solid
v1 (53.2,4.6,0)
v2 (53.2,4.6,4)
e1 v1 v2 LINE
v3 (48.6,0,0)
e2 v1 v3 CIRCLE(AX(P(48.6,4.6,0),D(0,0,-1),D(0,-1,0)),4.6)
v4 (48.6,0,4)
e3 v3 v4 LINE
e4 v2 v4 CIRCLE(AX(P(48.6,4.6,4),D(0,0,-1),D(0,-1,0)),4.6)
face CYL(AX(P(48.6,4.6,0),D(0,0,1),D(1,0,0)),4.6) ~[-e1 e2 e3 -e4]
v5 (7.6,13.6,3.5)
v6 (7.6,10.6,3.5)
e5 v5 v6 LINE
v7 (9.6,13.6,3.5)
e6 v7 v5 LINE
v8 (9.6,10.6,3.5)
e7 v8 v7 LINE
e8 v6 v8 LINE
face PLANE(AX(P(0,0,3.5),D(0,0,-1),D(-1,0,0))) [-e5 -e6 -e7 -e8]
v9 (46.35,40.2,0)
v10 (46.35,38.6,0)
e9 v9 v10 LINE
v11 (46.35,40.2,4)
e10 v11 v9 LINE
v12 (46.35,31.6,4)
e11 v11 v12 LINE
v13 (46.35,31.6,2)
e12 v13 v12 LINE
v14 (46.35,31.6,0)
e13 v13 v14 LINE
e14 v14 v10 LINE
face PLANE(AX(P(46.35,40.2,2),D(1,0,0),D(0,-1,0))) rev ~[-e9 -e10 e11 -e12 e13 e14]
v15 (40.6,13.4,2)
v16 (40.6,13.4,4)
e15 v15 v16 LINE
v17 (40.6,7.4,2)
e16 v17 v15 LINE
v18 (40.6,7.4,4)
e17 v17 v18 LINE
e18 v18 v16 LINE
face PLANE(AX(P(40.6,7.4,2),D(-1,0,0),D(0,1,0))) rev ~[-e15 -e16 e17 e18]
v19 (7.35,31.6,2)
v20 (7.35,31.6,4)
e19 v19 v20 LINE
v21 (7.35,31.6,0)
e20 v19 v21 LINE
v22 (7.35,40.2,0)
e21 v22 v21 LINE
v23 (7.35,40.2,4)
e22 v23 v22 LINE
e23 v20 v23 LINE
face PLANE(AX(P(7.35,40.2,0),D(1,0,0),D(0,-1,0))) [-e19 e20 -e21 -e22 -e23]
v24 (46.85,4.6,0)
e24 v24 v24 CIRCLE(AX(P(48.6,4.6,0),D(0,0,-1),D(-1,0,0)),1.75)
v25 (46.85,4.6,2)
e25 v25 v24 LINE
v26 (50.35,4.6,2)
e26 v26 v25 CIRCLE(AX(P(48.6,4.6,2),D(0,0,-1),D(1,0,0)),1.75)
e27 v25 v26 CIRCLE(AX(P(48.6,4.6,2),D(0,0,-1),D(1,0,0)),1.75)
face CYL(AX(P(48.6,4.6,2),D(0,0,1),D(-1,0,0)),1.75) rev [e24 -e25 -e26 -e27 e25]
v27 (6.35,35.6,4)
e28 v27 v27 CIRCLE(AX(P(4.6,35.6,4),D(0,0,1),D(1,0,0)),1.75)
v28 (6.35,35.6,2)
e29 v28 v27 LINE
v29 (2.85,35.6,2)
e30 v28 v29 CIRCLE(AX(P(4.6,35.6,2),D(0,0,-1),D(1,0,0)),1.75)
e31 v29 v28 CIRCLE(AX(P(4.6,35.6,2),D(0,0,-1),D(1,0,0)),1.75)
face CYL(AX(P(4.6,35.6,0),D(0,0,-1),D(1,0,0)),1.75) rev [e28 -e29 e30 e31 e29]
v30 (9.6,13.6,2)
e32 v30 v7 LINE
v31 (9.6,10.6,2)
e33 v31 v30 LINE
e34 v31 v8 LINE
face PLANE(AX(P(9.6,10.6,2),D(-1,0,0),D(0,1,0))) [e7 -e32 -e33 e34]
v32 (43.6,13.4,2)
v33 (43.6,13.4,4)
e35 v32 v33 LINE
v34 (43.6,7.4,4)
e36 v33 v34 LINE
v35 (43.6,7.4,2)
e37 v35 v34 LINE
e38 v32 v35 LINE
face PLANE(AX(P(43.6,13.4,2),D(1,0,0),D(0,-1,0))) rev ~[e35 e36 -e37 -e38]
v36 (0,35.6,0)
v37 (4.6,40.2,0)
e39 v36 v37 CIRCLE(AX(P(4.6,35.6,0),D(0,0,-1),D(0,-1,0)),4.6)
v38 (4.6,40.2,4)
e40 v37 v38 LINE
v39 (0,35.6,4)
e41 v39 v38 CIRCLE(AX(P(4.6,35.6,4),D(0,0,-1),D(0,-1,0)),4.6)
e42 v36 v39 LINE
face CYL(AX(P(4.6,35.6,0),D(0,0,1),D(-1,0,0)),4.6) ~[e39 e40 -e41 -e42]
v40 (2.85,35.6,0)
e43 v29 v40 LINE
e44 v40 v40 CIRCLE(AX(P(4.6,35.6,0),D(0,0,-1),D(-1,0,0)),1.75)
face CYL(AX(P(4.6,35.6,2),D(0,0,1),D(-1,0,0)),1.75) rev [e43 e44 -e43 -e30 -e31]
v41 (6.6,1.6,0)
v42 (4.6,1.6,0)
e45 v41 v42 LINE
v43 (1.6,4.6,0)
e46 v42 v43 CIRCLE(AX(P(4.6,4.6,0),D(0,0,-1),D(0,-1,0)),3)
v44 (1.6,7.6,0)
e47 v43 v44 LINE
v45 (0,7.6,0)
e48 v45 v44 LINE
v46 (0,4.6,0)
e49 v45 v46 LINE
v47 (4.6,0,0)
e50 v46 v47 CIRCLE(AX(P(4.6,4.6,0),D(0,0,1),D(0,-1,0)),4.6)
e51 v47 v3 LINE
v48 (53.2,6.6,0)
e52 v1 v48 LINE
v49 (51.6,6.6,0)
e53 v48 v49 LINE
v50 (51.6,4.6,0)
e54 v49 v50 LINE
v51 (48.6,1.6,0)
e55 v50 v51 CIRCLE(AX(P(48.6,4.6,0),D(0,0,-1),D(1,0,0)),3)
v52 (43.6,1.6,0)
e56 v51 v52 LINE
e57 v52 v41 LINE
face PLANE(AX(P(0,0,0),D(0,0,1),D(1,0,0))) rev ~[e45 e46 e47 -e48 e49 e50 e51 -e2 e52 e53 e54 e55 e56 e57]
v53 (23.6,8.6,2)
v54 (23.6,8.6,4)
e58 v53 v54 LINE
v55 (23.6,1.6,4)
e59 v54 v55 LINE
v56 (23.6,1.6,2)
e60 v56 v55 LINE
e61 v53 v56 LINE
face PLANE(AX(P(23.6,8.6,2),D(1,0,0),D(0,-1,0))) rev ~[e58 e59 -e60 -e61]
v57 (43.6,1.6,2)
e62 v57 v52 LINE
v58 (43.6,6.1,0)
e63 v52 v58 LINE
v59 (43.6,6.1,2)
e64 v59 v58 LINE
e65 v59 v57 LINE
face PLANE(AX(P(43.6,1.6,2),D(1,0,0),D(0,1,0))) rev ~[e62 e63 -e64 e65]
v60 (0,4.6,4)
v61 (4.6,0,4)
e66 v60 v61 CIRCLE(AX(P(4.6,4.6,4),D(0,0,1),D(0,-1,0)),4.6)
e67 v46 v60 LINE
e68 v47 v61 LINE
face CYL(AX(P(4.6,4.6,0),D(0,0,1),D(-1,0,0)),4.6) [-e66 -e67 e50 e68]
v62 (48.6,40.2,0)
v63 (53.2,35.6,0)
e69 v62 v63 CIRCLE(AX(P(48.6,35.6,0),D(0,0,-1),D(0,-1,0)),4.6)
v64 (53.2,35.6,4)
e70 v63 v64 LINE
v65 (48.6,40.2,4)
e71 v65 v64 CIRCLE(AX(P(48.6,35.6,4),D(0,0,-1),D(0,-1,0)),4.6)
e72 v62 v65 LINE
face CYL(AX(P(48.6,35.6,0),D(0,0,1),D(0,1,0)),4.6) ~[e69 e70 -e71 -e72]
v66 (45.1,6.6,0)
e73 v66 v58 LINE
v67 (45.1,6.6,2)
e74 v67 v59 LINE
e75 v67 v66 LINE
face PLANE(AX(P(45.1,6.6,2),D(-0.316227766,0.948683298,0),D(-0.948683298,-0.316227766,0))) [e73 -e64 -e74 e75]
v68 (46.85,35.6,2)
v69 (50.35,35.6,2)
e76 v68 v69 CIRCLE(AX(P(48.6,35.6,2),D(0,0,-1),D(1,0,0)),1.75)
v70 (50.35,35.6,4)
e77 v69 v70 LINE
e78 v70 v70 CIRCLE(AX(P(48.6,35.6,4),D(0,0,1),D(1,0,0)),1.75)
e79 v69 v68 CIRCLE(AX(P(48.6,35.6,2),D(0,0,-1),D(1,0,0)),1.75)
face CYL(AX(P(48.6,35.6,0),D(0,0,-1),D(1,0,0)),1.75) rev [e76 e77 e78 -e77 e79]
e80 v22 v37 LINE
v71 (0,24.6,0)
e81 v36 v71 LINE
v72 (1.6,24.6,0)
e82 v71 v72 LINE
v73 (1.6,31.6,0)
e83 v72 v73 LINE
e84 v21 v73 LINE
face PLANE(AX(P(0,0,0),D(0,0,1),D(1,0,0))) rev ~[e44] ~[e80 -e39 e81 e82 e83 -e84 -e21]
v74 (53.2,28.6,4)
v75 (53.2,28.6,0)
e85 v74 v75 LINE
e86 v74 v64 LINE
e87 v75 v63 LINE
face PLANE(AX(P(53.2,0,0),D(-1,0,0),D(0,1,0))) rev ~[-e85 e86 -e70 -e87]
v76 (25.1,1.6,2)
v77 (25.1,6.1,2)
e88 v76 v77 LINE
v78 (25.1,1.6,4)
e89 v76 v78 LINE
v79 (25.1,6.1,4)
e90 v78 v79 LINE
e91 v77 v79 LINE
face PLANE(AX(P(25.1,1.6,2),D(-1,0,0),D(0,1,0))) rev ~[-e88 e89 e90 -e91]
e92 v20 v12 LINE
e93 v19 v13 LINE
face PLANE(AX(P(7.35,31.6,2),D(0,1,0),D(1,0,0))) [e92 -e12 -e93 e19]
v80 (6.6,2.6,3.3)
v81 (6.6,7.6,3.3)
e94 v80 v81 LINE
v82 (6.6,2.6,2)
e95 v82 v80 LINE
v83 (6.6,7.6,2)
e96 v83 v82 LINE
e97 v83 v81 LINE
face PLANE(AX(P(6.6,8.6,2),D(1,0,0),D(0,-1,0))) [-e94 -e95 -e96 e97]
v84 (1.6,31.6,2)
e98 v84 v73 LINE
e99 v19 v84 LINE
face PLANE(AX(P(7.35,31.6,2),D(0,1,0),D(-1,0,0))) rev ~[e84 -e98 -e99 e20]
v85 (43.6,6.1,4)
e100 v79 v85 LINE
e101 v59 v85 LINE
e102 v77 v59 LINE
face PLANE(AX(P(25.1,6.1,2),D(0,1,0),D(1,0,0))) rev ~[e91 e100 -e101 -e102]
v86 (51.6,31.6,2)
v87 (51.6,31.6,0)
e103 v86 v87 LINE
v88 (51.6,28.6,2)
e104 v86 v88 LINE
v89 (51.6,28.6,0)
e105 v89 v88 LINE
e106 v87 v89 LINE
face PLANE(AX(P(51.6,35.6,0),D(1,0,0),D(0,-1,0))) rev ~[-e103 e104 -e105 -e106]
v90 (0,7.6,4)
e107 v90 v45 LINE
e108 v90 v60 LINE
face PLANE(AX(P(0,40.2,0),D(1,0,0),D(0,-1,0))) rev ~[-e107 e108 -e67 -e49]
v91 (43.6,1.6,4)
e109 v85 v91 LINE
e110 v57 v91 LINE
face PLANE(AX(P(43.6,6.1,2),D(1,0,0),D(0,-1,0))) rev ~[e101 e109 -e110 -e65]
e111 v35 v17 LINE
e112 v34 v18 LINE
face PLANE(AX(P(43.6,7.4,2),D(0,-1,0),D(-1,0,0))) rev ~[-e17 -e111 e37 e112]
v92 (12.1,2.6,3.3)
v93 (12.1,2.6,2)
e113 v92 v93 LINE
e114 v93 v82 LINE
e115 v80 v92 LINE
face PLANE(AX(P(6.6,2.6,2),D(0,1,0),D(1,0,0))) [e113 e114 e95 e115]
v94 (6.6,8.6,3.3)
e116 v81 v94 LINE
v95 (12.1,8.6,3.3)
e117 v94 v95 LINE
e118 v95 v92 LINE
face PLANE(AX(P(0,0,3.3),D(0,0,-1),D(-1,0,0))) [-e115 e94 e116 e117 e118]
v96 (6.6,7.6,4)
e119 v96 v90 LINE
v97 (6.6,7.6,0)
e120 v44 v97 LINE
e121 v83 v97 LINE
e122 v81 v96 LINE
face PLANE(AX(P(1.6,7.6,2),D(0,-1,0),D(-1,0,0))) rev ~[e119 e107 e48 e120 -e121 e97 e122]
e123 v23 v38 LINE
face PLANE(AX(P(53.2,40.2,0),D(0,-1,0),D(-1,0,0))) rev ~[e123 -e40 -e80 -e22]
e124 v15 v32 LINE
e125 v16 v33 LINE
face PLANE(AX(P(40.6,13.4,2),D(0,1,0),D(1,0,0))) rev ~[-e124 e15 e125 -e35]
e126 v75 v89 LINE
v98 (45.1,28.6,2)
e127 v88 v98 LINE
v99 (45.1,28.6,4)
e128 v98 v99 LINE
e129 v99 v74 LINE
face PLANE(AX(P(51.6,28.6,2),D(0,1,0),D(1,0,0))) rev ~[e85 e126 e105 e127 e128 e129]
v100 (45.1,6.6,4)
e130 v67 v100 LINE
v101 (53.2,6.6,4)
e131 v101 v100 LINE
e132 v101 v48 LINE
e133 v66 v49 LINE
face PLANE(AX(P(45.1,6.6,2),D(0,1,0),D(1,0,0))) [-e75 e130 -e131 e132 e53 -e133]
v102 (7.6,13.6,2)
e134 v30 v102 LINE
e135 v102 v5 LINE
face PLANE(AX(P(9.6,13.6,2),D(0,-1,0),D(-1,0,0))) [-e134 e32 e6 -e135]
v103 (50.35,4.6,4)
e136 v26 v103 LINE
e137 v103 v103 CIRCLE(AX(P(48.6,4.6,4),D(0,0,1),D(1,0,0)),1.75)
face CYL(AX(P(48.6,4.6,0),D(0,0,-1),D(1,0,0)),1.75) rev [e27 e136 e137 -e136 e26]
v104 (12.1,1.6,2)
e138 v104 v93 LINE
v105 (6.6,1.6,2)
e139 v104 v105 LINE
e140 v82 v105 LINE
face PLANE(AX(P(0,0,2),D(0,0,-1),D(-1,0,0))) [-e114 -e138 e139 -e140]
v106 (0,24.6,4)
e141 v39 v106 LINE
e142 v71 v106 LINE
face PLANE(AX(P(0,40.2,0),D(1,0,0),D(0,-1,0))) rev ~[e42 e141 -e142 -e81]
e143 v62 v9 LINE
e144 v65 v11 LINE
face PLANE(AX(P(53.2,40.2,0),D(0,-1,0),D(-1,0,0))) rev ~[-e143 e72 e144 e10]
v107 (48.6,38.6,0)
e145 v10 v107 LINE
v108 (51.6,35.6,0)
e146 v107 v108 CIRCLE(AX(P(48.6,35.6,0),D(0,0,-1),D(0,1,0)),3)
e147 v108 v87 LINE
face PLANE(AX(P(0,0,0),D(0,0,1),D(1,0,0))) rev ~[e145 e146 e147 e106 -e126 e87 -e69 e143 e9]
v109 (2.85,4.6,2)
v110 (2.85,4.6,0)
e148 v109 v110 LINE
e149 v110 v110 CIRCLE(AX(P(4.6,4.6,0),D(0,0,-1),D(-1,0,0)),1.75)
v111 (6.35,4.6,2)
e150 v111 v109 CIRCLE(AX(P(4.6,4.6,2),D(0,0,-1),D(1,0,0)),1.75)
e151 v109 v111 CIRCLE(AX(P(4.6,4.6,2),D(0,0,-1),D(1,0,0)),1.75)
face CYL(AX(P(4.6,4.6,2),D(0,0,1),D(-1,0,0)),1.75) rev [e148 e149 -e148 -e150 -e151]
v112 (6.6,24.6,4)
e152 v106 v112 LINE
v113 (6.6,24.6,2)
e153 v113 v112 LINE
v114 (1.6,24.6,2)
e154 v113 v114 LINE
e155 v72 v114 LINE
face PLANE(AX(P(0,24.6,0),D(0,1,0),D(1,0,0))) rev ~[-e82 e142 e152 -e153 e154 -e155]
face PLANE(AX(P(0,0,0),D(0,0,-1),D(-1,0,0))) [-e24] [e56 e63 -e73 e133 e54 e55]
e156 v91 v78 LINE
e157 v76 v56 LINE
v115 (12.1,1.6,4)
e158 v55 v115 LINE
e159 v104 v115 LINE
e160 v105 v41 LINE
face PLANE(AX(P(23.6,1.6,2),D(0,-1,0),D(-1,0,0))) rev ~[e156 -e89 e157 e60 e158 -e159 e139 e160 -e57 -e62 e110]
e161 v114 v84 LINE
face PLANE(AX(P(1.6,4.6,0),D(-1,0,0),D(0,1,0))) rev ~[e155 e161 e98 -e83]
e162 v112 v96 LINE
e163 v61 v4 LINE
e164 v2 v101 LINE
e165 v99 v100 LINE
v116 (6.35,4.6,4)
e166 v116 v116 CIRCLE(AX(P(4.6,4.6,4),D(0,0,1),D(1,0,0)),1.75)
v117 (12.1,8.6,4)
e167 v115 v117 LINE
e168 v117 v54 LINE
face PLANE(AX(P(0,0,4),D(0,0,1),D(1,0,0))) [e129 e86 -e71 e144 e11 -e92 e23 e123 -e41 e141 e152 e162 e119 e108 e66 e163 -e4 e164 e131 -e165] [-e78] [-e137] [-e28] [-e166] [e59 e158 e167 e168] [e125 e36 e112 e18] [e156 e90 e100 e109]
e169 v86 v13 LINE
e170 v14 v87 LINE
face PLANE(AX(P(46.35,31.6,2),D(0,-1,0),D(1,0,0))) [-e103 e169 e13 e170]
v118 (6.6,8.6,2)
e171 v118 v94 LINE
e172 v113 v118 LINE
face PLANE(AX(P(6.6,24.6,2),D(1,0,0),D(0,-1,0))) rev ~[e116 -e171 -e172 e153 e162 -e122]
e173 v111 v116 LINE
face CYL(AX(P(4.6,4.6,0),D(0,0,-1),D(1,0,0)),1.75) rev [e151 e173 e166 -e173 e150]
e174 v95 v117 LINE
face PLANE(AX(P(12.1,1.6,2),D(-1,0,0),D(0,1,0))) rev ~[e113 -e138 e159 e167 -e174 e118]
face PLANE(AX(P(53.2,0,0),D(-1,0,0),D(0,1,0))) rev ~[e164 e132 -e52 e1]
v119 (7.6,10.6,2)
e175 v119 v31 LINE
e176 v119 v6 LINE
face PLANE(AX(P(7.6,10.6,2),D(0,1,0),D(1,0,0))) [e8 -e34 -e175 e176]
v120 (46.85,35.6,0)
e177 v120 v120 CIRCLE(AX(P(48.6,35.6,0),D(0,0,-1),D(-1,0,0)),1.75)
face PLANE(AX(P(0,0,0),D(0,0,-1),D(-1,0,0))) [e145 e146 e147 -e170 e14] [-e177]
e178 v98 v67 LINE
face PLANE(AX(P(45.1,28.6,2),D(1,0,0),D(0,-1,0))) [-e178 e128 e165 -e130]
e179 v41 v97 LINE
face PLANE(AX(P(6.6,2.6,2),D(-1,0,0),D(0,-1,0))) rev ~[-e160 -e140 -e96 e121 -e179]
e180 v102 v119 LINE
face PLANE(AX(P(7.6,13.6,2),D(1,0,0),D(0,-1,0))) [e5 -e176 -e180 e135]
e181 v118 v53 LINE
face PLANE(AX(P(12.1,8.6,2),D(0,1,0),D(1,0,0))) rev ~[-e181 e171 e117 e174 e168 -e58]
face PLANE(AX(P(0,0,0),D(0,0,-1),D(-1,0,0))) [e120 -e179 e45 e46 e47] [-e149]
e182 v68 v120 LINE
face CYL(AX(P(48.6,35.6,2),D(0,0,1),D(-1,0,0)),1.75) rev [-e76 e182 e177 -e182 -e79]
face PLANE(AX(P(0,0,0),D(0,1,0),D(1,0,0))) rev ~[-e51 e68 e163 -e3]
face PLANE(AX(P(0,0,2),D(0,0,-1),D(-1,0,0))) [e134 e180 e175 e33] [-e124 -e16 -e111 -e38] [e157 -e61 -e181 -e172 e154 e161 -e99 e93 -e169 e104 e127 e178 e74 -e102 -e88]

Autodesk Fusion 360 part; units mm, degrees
sketch "Sketch1" plane through (0, 0, 0) normal (0, 0, 1) x (1, 0, 0)
  line L0 (0, 0) -> (53.2, 0)
  line L1 (53.2, 0) -> (53.2, 40.2)
  line L2 (53.2, 40.2) -> (0, 40.2)
  line L3 (0, 40.2) -> (0, 0)
  circle A0 centre (4.6, 4.6) radius 1.75
  circle A1 centre (4.6, 35.6) radius 1.75
  circle A2 centre (48.6, 35.6) radius 1.75
  circle A3 centre (48.6, 4.6) radius 1.75
  dimension "d1" = 53.2
  dimension "d2" = 40.2
  dimension "d3" = 4.6
  dimension "d4" = 4.6
  dimension "d5" = 4.6
  dimension "d6" = 4.6
  dimension "d7" = 4.6
  dimension "d8" = 4.6
  dimension "d9" = 4.6
  dimension "d10" = 4.6
  dimension "d11" = 3.5
  dimension "d12" = 3.5
  dimension "d13" = 3.5
  dimension "d14" = 3.5
extrude "Extrude1" add sketch "Sketch1" along normal blind 4
fillet "Fillet1" radius 4.6 4 edges at (0, 40.2, 2) (0, 0, 2) (53.2, 0, 2) (53.2, 40.2, 2)
sketch "Sketch2" plane through (0, 0, 0) normal (0, 0, -1) x (-1, 0, 0)
  arc A0 (-48.6, 40.2) -> (-53.2, 35.6) centre (-48.6, 35.6) ccw
  line L0 (-53.2, 35.6) -> (-53.2, 4.6)
  arc A1 (-53.2, 4.6) -> (-48.6, 0) centre (-48.6, 4.6) ccw
  line L1 (-48.6, 0) -> (-4.6, 0)
  arc A2 (-4.6, 0) -> (0, 4.6) centre (-4.6, 4.6) ccw
  line L2 (0, 4.6) -> (0, 35.6)
  arc A3 (0, 35.6) -> (-4.6, 40.2) centre (-4.6, 35.6) ccw
  line L3 (-4.6, 40.2) -> (-48.6, 40.2)
  circle A4 centre (-48.6, 4.6) radius 1.75
  circle A5 centre (-48.6, 35.6) radius 1.75
  circle A6 centre (-4.6, 4.6) radius 1.75
  circle A7 centre (-4.6, 35.6) radius 1.75
  line L4 (-51.6, 35.6) -> (-51.6, 4.6)
  arc A8 (-51.6, 4.6) -> (-48.6, 1.6) centre (-48.6, 4.6) ccw
  line L5 (-48.6, 1.6) -> (-4.6, 1.6)
  arc A9 (-4.6, 1.6) -> (-1.6, 4.6) centre (-4.6, 4.6) ccw
  line L6 (-1.6, 4.6) -> (-1.6, 35.6)
  arc A10 (-1.6, 35.6) -> (-4.6, 38.6) centre (-4.6, 35.6) ccw
  line L7 (-4.6, 38.6) -> (-48.6, 38.6)
  arc A11 (-48.6, 38.6) -> (-51.6, 35.6) centre (-48.6, 35.6) ccw
  dimension "d18" = 1.6
extrude "Extrude2" cut sketch "Sketch2" against normal blind 2 contours L4 A8 L5 A9 L6 A10 L7 A11
sketch "Sketch3" plane through (0, 0, 0) normal (0, 0, -1) x (-1, 0, 0)
  line L0 (-51.6, 4.6) -> (-51.6, 35.6)
  arc A0 (-48.6, 38.6) -> (-51.6, 35.6) centre (-48.6, 35.6) ccw
  line L1 (-48.6, 38.6) -> (-4.6, 38.6)
  arc A1 (-1.6, 35.6) -> (-4.6, 38.6) centre (-4.6, 35.6) ccw
  line L2 (-1.6, 35.6) -> (-1.6, 4.6)
  arc A2 (-4.6, 1.6) -> (-1.6, 4.6) centre (-4.6, 4.6) ccw
  line L3 (-4.6, 1.6) -> (-48.6, 1.6)
  arc A3 (-51.6, 4.6) -> (-48.6, 1.6) centre (-48.6, 4.6) ccw
  arc A4 (-48.6, 40.2) -> (-53.2, 35.6) centre (-48.6, 35.6) ccw
  line L4 (-53.2, 35.6) -> (-53.2, 4.6)
  arc A5 (-53.2, 4.6) -> (-48.6, 0) centre (-48.6, 4.6) ccw
  line L5 (-48.6, 0) -> (-4.6, 0)
  arc A6 (-4.6, 0) -> (0, 4.6) centre (-4.6, 4.6) ccw
  line L6 (0, 4.6) -> (0, 35.6)
  arc A7 (0, 35.6) -> (-4.6, 40.2) centre (-4.6, 35.6) ccw
  line L7 (-4.6, 40.2) -> (-48.6, 40.2)
  line L8 (0, 24.6) -> (-1.6, 24.6)
  line L9 (0, 7.6) -> (-1.6, 7.6)
  line L10 (-53.2, 28.6) -> (-51.6, 28.6)
  line L11 (-53.2, 6.6) -> (-51.6, 6.6)
  line L12 (-46.35, 40.2) -> (-46.35, 38.6)
  line L13 (-7.35, 40.2) -> (-7.35, 38.6)
  dimension "d21" = 17
  dimension "d22" = 11
  dimension "d25" = 5
  dimension "d26" = 10
  dimension "d27" = 5.75
  dimension "d73" = 39
extrude "Extrude3" cut sketch "Sketch3" against normal blind 2 contours L0 L4 L10 L11 | L2 L6 L8 L9 | L1 L7 L12 L13
sketch "Sketch4" plane through (0, 0, 2) normal (0, 0, -1) x (-1, 0, 0)
  circle A0 centre (-48.6, 4.6) radius 1.75
  circle A1 centre (-4.6, 35.6) radius 1.75
  circle A2 centre (-4.6, 4.6) radius 1.75
  circle A3 centre (-48.6, 35.6) radius 1.75
  line L0 (-53.2, 28.6) -> (-53.2, 6.6)
  line L1 (0, 7.6) -> (0, 24.6)
  line L2 (-7.35, 40.2) -> (-46.35, 40.2)
  arc A4 (-48.6, 38.6) -> (-51.6, 35.6) centre (-48.6, 35.6) ccw
  line L3 (-51.6, 35.6) -> (-51.6, 28.6)
  line L4 (-51.6, 28.6) -> (-53.2, 28.6)
  line L5 (-53.2, 6.6) -> (-51.6, 6.6)
  line L6 (-51.6, 6.6) -> (-51.6, 4.6)
  arc A5 (-51.6, 4.6) -> (-48.6, 1.6) centre (-48.6, 4.6) ccw
  line L7 (-48.6, 1.6) -> (-4.6, 1.6)
  arc A6 (-4.6, 1.6) -> (-1.6, 4.6) centre (-4.6, 4.6) ccw
  line L8 (-1.6, 4.6) -> (-1.6, 7.6)
  line L9 (-1.6, 7.6) -> (0, 7.6)
  line L10 (0, 24.6) -> (-1.6, 24.6)
  line L11 (-1.6, 24.6) -> (-1.6, 35.6)
  arc A7 (-1.6, 35.6) -> (-4.6, 38.6) centre (-4.6, 35.6) ccw
  line L12 (-4.6, 38.6) -> (-7.35, 38.6)
  line L13 (-7.35, 38.6) -> (-7.35, 40.2)
  line L14 (-46.35, 40.2) -> (-46.35, 38.6)
  line L15 (-46.35, 38.6) -> (-48.6, 38.6)
  line L16 (-51.6, 28.6) -> (-45.1, 28.6)
  line L17 (-45.1, 28.6) -> (-45.1, 6.6)
  line L18 (-45.1, 6.6) -> (-51.6, 6.6)
  line L19 (-7.35, 38.6) -> (-7.35, 31.6)
  line L20 (-7.35, 31.6) -> (-46.35, 31.6)
  line L21 (-46.35, 31.6) -> (-46.35, 38.6)
  line L22 (-1.6, 24.6) -> (-6.6, 24.6)
  line L23 (-6.6, 24.6) -> (-6.6, 7.6)
  line L24 (-6.6, 7.6) -> (-1.6, 7.6)
  line L25 (-12.1, 1.6) -> (-12.1, 8.6)
  line L26 (-12.1, 8.6) -> (-23.6, 8.6)
  line L27 (-23.6, 8.6) -> (-23.6, 1.6)
  line L28 (-25.1, 1.6) -> (-25.1, 6.1)
  line L29 (-25.1, 6.1) -> (-43.6, 6.1)
  line L30 (-43.6, 6.1) -> (-43.6, 1.6)
  dimension "d74" = 6.5
  dimension "d75" = 7
  dimension "d76" = 5
  dimension "d77" = 10.5
  dimension "d78" = 11.5
  dimension "d79" = 7
  dimension "d80" = 4.5
  dimension "d81" = 23.5
  dimension "d82" = 18.5
extrude "Extrude4" cut sketch "Sketch4" against normal blind 2 contours L0 L4 L5 L16 L17 L18 | L2 L13 L14 L19 L20 L21 | L7 L28 L29 L30 | L7 L25 L26 L27 | L1 L9 L10 L22 L23 L24
sketch "Sketch5" plane through (0, 0, 2) normal (0, 0, -1) x (-1, 0, 0)
  line L0 (-51.6, 35.6) -> (-51.6, 28.6)
  line L1 (-48.6, 1.6) -> (-43.6, 1.6)
  line L2 (-1.6, 7.6) -> (-6.6, 7.6)
  line L3 (-6.6, 24.6) -> (-1.6, 24.6)
  line L4 (-7.35, 38.6) -> (-7.35, 31.6)
  line L5 (-4.6, 38.6) -> (-7.35, 38.6)
  line L6 (-46.35, 31.6) -> (-46.35, 38.6)
  line L7 (-51.6, 28.6) -> (-45.1, 28.6)
  line L8 (-45.1, 6.6) -> (-51.6, 6.6)
  circle A0 centre (-48.6, 35.6) radius 1.75
  circle A1 centre (-4.6, 4.6) radius 1.75
  circle A2 centre (-4.6, 35.6) radius 1.75
  circle A3 centre (-48.6, 4.6) radius 1.75
  line L9 (-12.6, 8.6) -> (-6.6, 8.6)
  line L10 (-6.6, 8.6) -> (-6.6, 2.6)
  line L11 (-6.6, 2.6) -> (-12.6, 2.6)
  line L12 (-12.6, 2.6) -> (-12.6, 8.6)
  arc A4 (-4.6, 1.6) -> (-1.6, 4.6) centre (-4.6, 4.6) ccw
  line L13 (-1.6, 4.6) -> (-1.6, 7.6)
  line L14 (-1.6, 24.6) -> (-1.6, 35.6)
  arc A5 (-1.6, 35.6) -> (-4.6, 38.6) centre (-4.6, 35.6) ccw
  line L15 (-46.35, 38.6) -> (-48.6, 38.6)
  arc A6 (-48.6, 38.6) -> (-51.6, 35.6) centre (-48.6, 35.6) ccw
  line L16 (-51.6, 6.6) -> (-51.6, 4.6)
  arc A7 (-51.6, 4.6) -> (-48.6, 1.6) centre (-48.6, 4.6) ccw
  line L17 (-45.1, 28.6) -> (-45.1, 6.6)
  line L18 (-43.6, 1.6) -> (-43.6, 6.1)
  line L19 (-43.6, 6.1) -> (-25.1, 6.1)
  line L20 (-25.1, 6.1) -> (-25.1, 1.6)
  line L21 (-25.1, 1.6) -> (-23.6, 1.6)
  line L22 (-23.6, 1.6) -> (-23.6, 8.6)
  line L23 (-23.6, 8.6) -> (-12.1, 8.6)
  line L24 (-12.1, 8.6) -> (-12.1, 1.6)
  line L25 (-12.1, 1.6) -> (-4.6, 1.6)
  line L26 (-6.6, 7.6) -> (-6.6, 24.6)
  line L27 (-7.35, 31.6) -> (-46.35, 31.6)
  dimension "d49" = 6
  dimension "d51" = 6
  dimension "d83" = 1
  dimension "d84" = 5
extrude "Extrude5" cut sketch "Sketch5" against normal blind 1.3 contours L9 L10 L11 L24 L26 | L9 L11 L12 L23 L24
sketch "Sketch8" plane through (0, 0, 2) normal (0, 0, -1) x (-1, 0, 0)
  line L0 (-6.6, 24.6) -> (-1.6, 24.6)
  line L1 (-7.35, 38.6) -> (-7.35, 31.6)
  line L2 (-4.6, 38.6) -> (-7.35, 38.6)
  line L3 (-46.35, 31.6) -> (-46.35, 38.6)
  line L4 (-51.6, 28.6) -> (-45.1, 28.6)
  line L5 (-45.1, 6.6) -> (-51.6, 6.6)
  line L6 (-51.6, 35.6) -> (-51.6, 28.6)
  line L7 (-48.6, 1.6) -> (-43.6, 1.6)
  line L8 (-23.6, 8.6) -> (-6.6, 8.6)
  circle A0 centre (-48.6, 35.6) radius 1.75
  circle A1 centre (-4.6, 35.6) radius 1.75
  circle A2 centre (-48.6, 4.6) radius 1.75
  arc A3 (-1.6, 35.6) -> (-4.6, 38.6) centre (-4.6, 35.6) ccw
  line L9 (-46.35, 38.6) -> (-48.6, 38.6)
  arc A4 (-48.6, 38.6) -> (-51.6, 35.6) centre (-48.6, 35.6) ccw
  line L10 (-51.6, 6.6) -> (-51.6, 4.6)
  arc A5 (-51.6, 4.6) -> (-48.6, 1.6) centre (-48.6, 4.6) ccw
  line L11 (-6.6, 8.6) -> (-6.6, 24.6)
  line L12 (-7.35, 31.6) -> (-46.35, 31.6)
  line L13 (-45.1, 28.6) -> (-45.1, 6.6)
  line L14 (-43.6, 1.6) -> (-43.6, 6.1)
  line L15 (-43.6, 6.1) -> (-25.1, 6.1)
  line L16 (-25.1, 6.1) -> (-25.1, 1.6)
  line L17 (-25.1, 1.6) -> (-23.6, 1.6)
  line L18 (-23.6, 1.6) -> (-23.6, 8.6)
  line L19 (-1.6, 24.6) -> (-1.6, 35.6)
  line L20 (-45.1, 6.6) -> (-43.6, 6.1)
  line L21 (-7.35, 31.6) -> (-1.6, 31.6)
  line L22 (-46.35, 31.6) -> (-46.6643, 31.6)
  line L23 (-46.6643, 31.6) -> (-51.6, 31.6)
  line L24 (-6.6, 7.6) -> (-6.6, 2.6)
  line L25 (-6.6, 2.6) -> (-12.1, 2.6)
  line L26 (-12.1, 2.6) -> (-12.1, 1.6)
  line L27 (-12.1, 1.6) -> (-4.6, 1.6)
  arc A6 (-4.6, 1.6) -> (-1.6, 4.6) centre (-4.6, 4.6) ccw
  line L28 (-1.6, 4.6) -> (-1.6, 7.6)
  line L29 (-1.6, 7.6) -> (-6.6, 7.6)
  circle A7 centre (-4.6, 4.6) radius 1.75
  line L30 (-6.6, 2.6) -> (-6.6, 1.6)
extrude "Extrude8" add sketch "Sketch8" along normal blind 2 contours L1 L2 A3 L19 L21 | L3 L6 L9 A4 L22 L23 | L5 L7 L10 A5 L14 L20 | L24 L27 A6 L28 L29 L30
sketch "Sketch9" plane through (0, 0, 2) normal (0, 0, -1) x (-1, 0, 0)
  line L0 (-45.1, 6.6) -> (-43.6, 6.1)
  line L1 (-43.6, 6.1) -> (-25.1, 6.1)
  line L2 (-25.1, 6.1) -> (-25.1, 1.6)
  line L3 (-25.1, 1.6) -> (-23.6, 1.6)
  line L4 (-23.6, 1.6) -> (-23.6, 8.6)
  line L5 (-23.6, 8.6) -> (-6.6, 8.6)
  line L6 (-6.6, 8.6) -> (-6.6, 24.6)
  line L7 (-6.6, 24.6) -> (-1.6, 24.6)
  line L8 (-1.6, 24.6) -> (-1.6, 31.6)
  line L9 (-1.6, 31.6) -> (-7.35, 31.6)
  line L10 (-7.35, 31.6) -> (-46.35, 31.6)
  line L11 (-46.35, 31.6) -> (-51.6, 31.6)
  line L12 (-51.6, 31.6) -> (-51.6, 28.6)
  line L13 (-51.6, 28.6) -> (-45.1, 28.6)
  line L14 (-45.1, 28.6) -> (-45.1, 6.6)
  line L15 (-7.6, 10.6) -> (-9.6, 10.6)
  line L16 (-9.6, 10.6) -> (-9.6, 13.6)
  line L17 (-9.6, 13.6) -> (-7.6, 13.6)
  line L18 (-7.6, 13.6) -> (-7.6, 10.6)
  dimension "d85" = 2
  dimension "d86" = 1
  dimension "d87" = 3
  dimension "d88" = 2
extrude "Extrude9" cut sketch "Sketch9" against normal blind 1.5 contours L15 L16 L17 L18
sketch "Sketch10" plane through (0, 0, 2) normal (0, 0, -1) x (-1, 0, 0)
  line L0 (-9.6, 10.6) -> (-9.6, 13.6)
  line L1 (-9.6, 13.6) -> (-7.6, 13.6)
  line L2 (-7.6, 13.6) -> (-7.6, 10.6)
  line L3 (-7.6, 10.6) -> (-9.6, 10.6)
  line L4 (-45.1, 6.6) -> (-43.6, 6.1)
  line L5 (-43.6, 6.1) -> (-25.1, 6.1)
  line L6 (-25.1, 6.1) -> (-25.1, 1.6)
  line L7 (-25.1, 1.6) -> (-23.6, 1.6)
  line L8 (-23.6, 1.6) -> (-23.6, 8.6)
  line L9 (-23.6, 8.6) -> (-6.6, 8.6)
  line L10 (-6.6, 8.6) -> (-6.6, 24.6)
  line L11 (-6.6, 24.6) -> (-1.6, 24.6)
  line L12 (-1.6, 24.6) -> (-1.6, 31.6)
  line L13 (-1.6, 31.6) -> (-7.35, 31.6)
  line L14 (-7.35, 31.6) -> (-46.35, 31.6)
  line L15 (-46.35, 31.6) -> (-51.6, 31.6)
  line L16 (-51.6, 31.6) -> (-51.6, 28.6)
  line L17 (-51.6, 28.6) -> (-45.1, 28.6)
  line L18 (-45.1, 28.6) -> (-45.1, 6.6)
  line L19 (-43.6, 7.4) -> (-40.6, 7.4)
  line L20 (-40.6, 7.4) -> (-40.6, 13.4)
  line L21 (-40.6, 13.4) -> (-43.6, 13.4)
  line L22 (-43.6, 13.4) -> (-43.6, 7.4)
  line L23 (-6.6, 1.6) -> (-43.6, 1.6)
  dimension "d91" = 6
  dimension "d92" = 3
  dimension "d93" = 8
  dimension "d94" = 5.8
extrude "Extrude10" cut sketch "Sketch10" against normal blind 2 contours L19 L20 L21 L22
equation "d1 = 50 mm + ( ( 2 * 1.6 ) * 1 mm )"
equation "d2 = 37 mm + ( ( 2 * 1.6 ) * 1 mm )"
equation "d3 = 3 mm + 1.6 mm"
equation "d4 = d3"
equation "d5 = d4"
equation "d6 = d3"
equation "d7 = d3"
equation "d8 = d7"
equation "d9 = d4"
equation "d10 = d5"
equation "d17 = 3 mm + 1.6 mm"
